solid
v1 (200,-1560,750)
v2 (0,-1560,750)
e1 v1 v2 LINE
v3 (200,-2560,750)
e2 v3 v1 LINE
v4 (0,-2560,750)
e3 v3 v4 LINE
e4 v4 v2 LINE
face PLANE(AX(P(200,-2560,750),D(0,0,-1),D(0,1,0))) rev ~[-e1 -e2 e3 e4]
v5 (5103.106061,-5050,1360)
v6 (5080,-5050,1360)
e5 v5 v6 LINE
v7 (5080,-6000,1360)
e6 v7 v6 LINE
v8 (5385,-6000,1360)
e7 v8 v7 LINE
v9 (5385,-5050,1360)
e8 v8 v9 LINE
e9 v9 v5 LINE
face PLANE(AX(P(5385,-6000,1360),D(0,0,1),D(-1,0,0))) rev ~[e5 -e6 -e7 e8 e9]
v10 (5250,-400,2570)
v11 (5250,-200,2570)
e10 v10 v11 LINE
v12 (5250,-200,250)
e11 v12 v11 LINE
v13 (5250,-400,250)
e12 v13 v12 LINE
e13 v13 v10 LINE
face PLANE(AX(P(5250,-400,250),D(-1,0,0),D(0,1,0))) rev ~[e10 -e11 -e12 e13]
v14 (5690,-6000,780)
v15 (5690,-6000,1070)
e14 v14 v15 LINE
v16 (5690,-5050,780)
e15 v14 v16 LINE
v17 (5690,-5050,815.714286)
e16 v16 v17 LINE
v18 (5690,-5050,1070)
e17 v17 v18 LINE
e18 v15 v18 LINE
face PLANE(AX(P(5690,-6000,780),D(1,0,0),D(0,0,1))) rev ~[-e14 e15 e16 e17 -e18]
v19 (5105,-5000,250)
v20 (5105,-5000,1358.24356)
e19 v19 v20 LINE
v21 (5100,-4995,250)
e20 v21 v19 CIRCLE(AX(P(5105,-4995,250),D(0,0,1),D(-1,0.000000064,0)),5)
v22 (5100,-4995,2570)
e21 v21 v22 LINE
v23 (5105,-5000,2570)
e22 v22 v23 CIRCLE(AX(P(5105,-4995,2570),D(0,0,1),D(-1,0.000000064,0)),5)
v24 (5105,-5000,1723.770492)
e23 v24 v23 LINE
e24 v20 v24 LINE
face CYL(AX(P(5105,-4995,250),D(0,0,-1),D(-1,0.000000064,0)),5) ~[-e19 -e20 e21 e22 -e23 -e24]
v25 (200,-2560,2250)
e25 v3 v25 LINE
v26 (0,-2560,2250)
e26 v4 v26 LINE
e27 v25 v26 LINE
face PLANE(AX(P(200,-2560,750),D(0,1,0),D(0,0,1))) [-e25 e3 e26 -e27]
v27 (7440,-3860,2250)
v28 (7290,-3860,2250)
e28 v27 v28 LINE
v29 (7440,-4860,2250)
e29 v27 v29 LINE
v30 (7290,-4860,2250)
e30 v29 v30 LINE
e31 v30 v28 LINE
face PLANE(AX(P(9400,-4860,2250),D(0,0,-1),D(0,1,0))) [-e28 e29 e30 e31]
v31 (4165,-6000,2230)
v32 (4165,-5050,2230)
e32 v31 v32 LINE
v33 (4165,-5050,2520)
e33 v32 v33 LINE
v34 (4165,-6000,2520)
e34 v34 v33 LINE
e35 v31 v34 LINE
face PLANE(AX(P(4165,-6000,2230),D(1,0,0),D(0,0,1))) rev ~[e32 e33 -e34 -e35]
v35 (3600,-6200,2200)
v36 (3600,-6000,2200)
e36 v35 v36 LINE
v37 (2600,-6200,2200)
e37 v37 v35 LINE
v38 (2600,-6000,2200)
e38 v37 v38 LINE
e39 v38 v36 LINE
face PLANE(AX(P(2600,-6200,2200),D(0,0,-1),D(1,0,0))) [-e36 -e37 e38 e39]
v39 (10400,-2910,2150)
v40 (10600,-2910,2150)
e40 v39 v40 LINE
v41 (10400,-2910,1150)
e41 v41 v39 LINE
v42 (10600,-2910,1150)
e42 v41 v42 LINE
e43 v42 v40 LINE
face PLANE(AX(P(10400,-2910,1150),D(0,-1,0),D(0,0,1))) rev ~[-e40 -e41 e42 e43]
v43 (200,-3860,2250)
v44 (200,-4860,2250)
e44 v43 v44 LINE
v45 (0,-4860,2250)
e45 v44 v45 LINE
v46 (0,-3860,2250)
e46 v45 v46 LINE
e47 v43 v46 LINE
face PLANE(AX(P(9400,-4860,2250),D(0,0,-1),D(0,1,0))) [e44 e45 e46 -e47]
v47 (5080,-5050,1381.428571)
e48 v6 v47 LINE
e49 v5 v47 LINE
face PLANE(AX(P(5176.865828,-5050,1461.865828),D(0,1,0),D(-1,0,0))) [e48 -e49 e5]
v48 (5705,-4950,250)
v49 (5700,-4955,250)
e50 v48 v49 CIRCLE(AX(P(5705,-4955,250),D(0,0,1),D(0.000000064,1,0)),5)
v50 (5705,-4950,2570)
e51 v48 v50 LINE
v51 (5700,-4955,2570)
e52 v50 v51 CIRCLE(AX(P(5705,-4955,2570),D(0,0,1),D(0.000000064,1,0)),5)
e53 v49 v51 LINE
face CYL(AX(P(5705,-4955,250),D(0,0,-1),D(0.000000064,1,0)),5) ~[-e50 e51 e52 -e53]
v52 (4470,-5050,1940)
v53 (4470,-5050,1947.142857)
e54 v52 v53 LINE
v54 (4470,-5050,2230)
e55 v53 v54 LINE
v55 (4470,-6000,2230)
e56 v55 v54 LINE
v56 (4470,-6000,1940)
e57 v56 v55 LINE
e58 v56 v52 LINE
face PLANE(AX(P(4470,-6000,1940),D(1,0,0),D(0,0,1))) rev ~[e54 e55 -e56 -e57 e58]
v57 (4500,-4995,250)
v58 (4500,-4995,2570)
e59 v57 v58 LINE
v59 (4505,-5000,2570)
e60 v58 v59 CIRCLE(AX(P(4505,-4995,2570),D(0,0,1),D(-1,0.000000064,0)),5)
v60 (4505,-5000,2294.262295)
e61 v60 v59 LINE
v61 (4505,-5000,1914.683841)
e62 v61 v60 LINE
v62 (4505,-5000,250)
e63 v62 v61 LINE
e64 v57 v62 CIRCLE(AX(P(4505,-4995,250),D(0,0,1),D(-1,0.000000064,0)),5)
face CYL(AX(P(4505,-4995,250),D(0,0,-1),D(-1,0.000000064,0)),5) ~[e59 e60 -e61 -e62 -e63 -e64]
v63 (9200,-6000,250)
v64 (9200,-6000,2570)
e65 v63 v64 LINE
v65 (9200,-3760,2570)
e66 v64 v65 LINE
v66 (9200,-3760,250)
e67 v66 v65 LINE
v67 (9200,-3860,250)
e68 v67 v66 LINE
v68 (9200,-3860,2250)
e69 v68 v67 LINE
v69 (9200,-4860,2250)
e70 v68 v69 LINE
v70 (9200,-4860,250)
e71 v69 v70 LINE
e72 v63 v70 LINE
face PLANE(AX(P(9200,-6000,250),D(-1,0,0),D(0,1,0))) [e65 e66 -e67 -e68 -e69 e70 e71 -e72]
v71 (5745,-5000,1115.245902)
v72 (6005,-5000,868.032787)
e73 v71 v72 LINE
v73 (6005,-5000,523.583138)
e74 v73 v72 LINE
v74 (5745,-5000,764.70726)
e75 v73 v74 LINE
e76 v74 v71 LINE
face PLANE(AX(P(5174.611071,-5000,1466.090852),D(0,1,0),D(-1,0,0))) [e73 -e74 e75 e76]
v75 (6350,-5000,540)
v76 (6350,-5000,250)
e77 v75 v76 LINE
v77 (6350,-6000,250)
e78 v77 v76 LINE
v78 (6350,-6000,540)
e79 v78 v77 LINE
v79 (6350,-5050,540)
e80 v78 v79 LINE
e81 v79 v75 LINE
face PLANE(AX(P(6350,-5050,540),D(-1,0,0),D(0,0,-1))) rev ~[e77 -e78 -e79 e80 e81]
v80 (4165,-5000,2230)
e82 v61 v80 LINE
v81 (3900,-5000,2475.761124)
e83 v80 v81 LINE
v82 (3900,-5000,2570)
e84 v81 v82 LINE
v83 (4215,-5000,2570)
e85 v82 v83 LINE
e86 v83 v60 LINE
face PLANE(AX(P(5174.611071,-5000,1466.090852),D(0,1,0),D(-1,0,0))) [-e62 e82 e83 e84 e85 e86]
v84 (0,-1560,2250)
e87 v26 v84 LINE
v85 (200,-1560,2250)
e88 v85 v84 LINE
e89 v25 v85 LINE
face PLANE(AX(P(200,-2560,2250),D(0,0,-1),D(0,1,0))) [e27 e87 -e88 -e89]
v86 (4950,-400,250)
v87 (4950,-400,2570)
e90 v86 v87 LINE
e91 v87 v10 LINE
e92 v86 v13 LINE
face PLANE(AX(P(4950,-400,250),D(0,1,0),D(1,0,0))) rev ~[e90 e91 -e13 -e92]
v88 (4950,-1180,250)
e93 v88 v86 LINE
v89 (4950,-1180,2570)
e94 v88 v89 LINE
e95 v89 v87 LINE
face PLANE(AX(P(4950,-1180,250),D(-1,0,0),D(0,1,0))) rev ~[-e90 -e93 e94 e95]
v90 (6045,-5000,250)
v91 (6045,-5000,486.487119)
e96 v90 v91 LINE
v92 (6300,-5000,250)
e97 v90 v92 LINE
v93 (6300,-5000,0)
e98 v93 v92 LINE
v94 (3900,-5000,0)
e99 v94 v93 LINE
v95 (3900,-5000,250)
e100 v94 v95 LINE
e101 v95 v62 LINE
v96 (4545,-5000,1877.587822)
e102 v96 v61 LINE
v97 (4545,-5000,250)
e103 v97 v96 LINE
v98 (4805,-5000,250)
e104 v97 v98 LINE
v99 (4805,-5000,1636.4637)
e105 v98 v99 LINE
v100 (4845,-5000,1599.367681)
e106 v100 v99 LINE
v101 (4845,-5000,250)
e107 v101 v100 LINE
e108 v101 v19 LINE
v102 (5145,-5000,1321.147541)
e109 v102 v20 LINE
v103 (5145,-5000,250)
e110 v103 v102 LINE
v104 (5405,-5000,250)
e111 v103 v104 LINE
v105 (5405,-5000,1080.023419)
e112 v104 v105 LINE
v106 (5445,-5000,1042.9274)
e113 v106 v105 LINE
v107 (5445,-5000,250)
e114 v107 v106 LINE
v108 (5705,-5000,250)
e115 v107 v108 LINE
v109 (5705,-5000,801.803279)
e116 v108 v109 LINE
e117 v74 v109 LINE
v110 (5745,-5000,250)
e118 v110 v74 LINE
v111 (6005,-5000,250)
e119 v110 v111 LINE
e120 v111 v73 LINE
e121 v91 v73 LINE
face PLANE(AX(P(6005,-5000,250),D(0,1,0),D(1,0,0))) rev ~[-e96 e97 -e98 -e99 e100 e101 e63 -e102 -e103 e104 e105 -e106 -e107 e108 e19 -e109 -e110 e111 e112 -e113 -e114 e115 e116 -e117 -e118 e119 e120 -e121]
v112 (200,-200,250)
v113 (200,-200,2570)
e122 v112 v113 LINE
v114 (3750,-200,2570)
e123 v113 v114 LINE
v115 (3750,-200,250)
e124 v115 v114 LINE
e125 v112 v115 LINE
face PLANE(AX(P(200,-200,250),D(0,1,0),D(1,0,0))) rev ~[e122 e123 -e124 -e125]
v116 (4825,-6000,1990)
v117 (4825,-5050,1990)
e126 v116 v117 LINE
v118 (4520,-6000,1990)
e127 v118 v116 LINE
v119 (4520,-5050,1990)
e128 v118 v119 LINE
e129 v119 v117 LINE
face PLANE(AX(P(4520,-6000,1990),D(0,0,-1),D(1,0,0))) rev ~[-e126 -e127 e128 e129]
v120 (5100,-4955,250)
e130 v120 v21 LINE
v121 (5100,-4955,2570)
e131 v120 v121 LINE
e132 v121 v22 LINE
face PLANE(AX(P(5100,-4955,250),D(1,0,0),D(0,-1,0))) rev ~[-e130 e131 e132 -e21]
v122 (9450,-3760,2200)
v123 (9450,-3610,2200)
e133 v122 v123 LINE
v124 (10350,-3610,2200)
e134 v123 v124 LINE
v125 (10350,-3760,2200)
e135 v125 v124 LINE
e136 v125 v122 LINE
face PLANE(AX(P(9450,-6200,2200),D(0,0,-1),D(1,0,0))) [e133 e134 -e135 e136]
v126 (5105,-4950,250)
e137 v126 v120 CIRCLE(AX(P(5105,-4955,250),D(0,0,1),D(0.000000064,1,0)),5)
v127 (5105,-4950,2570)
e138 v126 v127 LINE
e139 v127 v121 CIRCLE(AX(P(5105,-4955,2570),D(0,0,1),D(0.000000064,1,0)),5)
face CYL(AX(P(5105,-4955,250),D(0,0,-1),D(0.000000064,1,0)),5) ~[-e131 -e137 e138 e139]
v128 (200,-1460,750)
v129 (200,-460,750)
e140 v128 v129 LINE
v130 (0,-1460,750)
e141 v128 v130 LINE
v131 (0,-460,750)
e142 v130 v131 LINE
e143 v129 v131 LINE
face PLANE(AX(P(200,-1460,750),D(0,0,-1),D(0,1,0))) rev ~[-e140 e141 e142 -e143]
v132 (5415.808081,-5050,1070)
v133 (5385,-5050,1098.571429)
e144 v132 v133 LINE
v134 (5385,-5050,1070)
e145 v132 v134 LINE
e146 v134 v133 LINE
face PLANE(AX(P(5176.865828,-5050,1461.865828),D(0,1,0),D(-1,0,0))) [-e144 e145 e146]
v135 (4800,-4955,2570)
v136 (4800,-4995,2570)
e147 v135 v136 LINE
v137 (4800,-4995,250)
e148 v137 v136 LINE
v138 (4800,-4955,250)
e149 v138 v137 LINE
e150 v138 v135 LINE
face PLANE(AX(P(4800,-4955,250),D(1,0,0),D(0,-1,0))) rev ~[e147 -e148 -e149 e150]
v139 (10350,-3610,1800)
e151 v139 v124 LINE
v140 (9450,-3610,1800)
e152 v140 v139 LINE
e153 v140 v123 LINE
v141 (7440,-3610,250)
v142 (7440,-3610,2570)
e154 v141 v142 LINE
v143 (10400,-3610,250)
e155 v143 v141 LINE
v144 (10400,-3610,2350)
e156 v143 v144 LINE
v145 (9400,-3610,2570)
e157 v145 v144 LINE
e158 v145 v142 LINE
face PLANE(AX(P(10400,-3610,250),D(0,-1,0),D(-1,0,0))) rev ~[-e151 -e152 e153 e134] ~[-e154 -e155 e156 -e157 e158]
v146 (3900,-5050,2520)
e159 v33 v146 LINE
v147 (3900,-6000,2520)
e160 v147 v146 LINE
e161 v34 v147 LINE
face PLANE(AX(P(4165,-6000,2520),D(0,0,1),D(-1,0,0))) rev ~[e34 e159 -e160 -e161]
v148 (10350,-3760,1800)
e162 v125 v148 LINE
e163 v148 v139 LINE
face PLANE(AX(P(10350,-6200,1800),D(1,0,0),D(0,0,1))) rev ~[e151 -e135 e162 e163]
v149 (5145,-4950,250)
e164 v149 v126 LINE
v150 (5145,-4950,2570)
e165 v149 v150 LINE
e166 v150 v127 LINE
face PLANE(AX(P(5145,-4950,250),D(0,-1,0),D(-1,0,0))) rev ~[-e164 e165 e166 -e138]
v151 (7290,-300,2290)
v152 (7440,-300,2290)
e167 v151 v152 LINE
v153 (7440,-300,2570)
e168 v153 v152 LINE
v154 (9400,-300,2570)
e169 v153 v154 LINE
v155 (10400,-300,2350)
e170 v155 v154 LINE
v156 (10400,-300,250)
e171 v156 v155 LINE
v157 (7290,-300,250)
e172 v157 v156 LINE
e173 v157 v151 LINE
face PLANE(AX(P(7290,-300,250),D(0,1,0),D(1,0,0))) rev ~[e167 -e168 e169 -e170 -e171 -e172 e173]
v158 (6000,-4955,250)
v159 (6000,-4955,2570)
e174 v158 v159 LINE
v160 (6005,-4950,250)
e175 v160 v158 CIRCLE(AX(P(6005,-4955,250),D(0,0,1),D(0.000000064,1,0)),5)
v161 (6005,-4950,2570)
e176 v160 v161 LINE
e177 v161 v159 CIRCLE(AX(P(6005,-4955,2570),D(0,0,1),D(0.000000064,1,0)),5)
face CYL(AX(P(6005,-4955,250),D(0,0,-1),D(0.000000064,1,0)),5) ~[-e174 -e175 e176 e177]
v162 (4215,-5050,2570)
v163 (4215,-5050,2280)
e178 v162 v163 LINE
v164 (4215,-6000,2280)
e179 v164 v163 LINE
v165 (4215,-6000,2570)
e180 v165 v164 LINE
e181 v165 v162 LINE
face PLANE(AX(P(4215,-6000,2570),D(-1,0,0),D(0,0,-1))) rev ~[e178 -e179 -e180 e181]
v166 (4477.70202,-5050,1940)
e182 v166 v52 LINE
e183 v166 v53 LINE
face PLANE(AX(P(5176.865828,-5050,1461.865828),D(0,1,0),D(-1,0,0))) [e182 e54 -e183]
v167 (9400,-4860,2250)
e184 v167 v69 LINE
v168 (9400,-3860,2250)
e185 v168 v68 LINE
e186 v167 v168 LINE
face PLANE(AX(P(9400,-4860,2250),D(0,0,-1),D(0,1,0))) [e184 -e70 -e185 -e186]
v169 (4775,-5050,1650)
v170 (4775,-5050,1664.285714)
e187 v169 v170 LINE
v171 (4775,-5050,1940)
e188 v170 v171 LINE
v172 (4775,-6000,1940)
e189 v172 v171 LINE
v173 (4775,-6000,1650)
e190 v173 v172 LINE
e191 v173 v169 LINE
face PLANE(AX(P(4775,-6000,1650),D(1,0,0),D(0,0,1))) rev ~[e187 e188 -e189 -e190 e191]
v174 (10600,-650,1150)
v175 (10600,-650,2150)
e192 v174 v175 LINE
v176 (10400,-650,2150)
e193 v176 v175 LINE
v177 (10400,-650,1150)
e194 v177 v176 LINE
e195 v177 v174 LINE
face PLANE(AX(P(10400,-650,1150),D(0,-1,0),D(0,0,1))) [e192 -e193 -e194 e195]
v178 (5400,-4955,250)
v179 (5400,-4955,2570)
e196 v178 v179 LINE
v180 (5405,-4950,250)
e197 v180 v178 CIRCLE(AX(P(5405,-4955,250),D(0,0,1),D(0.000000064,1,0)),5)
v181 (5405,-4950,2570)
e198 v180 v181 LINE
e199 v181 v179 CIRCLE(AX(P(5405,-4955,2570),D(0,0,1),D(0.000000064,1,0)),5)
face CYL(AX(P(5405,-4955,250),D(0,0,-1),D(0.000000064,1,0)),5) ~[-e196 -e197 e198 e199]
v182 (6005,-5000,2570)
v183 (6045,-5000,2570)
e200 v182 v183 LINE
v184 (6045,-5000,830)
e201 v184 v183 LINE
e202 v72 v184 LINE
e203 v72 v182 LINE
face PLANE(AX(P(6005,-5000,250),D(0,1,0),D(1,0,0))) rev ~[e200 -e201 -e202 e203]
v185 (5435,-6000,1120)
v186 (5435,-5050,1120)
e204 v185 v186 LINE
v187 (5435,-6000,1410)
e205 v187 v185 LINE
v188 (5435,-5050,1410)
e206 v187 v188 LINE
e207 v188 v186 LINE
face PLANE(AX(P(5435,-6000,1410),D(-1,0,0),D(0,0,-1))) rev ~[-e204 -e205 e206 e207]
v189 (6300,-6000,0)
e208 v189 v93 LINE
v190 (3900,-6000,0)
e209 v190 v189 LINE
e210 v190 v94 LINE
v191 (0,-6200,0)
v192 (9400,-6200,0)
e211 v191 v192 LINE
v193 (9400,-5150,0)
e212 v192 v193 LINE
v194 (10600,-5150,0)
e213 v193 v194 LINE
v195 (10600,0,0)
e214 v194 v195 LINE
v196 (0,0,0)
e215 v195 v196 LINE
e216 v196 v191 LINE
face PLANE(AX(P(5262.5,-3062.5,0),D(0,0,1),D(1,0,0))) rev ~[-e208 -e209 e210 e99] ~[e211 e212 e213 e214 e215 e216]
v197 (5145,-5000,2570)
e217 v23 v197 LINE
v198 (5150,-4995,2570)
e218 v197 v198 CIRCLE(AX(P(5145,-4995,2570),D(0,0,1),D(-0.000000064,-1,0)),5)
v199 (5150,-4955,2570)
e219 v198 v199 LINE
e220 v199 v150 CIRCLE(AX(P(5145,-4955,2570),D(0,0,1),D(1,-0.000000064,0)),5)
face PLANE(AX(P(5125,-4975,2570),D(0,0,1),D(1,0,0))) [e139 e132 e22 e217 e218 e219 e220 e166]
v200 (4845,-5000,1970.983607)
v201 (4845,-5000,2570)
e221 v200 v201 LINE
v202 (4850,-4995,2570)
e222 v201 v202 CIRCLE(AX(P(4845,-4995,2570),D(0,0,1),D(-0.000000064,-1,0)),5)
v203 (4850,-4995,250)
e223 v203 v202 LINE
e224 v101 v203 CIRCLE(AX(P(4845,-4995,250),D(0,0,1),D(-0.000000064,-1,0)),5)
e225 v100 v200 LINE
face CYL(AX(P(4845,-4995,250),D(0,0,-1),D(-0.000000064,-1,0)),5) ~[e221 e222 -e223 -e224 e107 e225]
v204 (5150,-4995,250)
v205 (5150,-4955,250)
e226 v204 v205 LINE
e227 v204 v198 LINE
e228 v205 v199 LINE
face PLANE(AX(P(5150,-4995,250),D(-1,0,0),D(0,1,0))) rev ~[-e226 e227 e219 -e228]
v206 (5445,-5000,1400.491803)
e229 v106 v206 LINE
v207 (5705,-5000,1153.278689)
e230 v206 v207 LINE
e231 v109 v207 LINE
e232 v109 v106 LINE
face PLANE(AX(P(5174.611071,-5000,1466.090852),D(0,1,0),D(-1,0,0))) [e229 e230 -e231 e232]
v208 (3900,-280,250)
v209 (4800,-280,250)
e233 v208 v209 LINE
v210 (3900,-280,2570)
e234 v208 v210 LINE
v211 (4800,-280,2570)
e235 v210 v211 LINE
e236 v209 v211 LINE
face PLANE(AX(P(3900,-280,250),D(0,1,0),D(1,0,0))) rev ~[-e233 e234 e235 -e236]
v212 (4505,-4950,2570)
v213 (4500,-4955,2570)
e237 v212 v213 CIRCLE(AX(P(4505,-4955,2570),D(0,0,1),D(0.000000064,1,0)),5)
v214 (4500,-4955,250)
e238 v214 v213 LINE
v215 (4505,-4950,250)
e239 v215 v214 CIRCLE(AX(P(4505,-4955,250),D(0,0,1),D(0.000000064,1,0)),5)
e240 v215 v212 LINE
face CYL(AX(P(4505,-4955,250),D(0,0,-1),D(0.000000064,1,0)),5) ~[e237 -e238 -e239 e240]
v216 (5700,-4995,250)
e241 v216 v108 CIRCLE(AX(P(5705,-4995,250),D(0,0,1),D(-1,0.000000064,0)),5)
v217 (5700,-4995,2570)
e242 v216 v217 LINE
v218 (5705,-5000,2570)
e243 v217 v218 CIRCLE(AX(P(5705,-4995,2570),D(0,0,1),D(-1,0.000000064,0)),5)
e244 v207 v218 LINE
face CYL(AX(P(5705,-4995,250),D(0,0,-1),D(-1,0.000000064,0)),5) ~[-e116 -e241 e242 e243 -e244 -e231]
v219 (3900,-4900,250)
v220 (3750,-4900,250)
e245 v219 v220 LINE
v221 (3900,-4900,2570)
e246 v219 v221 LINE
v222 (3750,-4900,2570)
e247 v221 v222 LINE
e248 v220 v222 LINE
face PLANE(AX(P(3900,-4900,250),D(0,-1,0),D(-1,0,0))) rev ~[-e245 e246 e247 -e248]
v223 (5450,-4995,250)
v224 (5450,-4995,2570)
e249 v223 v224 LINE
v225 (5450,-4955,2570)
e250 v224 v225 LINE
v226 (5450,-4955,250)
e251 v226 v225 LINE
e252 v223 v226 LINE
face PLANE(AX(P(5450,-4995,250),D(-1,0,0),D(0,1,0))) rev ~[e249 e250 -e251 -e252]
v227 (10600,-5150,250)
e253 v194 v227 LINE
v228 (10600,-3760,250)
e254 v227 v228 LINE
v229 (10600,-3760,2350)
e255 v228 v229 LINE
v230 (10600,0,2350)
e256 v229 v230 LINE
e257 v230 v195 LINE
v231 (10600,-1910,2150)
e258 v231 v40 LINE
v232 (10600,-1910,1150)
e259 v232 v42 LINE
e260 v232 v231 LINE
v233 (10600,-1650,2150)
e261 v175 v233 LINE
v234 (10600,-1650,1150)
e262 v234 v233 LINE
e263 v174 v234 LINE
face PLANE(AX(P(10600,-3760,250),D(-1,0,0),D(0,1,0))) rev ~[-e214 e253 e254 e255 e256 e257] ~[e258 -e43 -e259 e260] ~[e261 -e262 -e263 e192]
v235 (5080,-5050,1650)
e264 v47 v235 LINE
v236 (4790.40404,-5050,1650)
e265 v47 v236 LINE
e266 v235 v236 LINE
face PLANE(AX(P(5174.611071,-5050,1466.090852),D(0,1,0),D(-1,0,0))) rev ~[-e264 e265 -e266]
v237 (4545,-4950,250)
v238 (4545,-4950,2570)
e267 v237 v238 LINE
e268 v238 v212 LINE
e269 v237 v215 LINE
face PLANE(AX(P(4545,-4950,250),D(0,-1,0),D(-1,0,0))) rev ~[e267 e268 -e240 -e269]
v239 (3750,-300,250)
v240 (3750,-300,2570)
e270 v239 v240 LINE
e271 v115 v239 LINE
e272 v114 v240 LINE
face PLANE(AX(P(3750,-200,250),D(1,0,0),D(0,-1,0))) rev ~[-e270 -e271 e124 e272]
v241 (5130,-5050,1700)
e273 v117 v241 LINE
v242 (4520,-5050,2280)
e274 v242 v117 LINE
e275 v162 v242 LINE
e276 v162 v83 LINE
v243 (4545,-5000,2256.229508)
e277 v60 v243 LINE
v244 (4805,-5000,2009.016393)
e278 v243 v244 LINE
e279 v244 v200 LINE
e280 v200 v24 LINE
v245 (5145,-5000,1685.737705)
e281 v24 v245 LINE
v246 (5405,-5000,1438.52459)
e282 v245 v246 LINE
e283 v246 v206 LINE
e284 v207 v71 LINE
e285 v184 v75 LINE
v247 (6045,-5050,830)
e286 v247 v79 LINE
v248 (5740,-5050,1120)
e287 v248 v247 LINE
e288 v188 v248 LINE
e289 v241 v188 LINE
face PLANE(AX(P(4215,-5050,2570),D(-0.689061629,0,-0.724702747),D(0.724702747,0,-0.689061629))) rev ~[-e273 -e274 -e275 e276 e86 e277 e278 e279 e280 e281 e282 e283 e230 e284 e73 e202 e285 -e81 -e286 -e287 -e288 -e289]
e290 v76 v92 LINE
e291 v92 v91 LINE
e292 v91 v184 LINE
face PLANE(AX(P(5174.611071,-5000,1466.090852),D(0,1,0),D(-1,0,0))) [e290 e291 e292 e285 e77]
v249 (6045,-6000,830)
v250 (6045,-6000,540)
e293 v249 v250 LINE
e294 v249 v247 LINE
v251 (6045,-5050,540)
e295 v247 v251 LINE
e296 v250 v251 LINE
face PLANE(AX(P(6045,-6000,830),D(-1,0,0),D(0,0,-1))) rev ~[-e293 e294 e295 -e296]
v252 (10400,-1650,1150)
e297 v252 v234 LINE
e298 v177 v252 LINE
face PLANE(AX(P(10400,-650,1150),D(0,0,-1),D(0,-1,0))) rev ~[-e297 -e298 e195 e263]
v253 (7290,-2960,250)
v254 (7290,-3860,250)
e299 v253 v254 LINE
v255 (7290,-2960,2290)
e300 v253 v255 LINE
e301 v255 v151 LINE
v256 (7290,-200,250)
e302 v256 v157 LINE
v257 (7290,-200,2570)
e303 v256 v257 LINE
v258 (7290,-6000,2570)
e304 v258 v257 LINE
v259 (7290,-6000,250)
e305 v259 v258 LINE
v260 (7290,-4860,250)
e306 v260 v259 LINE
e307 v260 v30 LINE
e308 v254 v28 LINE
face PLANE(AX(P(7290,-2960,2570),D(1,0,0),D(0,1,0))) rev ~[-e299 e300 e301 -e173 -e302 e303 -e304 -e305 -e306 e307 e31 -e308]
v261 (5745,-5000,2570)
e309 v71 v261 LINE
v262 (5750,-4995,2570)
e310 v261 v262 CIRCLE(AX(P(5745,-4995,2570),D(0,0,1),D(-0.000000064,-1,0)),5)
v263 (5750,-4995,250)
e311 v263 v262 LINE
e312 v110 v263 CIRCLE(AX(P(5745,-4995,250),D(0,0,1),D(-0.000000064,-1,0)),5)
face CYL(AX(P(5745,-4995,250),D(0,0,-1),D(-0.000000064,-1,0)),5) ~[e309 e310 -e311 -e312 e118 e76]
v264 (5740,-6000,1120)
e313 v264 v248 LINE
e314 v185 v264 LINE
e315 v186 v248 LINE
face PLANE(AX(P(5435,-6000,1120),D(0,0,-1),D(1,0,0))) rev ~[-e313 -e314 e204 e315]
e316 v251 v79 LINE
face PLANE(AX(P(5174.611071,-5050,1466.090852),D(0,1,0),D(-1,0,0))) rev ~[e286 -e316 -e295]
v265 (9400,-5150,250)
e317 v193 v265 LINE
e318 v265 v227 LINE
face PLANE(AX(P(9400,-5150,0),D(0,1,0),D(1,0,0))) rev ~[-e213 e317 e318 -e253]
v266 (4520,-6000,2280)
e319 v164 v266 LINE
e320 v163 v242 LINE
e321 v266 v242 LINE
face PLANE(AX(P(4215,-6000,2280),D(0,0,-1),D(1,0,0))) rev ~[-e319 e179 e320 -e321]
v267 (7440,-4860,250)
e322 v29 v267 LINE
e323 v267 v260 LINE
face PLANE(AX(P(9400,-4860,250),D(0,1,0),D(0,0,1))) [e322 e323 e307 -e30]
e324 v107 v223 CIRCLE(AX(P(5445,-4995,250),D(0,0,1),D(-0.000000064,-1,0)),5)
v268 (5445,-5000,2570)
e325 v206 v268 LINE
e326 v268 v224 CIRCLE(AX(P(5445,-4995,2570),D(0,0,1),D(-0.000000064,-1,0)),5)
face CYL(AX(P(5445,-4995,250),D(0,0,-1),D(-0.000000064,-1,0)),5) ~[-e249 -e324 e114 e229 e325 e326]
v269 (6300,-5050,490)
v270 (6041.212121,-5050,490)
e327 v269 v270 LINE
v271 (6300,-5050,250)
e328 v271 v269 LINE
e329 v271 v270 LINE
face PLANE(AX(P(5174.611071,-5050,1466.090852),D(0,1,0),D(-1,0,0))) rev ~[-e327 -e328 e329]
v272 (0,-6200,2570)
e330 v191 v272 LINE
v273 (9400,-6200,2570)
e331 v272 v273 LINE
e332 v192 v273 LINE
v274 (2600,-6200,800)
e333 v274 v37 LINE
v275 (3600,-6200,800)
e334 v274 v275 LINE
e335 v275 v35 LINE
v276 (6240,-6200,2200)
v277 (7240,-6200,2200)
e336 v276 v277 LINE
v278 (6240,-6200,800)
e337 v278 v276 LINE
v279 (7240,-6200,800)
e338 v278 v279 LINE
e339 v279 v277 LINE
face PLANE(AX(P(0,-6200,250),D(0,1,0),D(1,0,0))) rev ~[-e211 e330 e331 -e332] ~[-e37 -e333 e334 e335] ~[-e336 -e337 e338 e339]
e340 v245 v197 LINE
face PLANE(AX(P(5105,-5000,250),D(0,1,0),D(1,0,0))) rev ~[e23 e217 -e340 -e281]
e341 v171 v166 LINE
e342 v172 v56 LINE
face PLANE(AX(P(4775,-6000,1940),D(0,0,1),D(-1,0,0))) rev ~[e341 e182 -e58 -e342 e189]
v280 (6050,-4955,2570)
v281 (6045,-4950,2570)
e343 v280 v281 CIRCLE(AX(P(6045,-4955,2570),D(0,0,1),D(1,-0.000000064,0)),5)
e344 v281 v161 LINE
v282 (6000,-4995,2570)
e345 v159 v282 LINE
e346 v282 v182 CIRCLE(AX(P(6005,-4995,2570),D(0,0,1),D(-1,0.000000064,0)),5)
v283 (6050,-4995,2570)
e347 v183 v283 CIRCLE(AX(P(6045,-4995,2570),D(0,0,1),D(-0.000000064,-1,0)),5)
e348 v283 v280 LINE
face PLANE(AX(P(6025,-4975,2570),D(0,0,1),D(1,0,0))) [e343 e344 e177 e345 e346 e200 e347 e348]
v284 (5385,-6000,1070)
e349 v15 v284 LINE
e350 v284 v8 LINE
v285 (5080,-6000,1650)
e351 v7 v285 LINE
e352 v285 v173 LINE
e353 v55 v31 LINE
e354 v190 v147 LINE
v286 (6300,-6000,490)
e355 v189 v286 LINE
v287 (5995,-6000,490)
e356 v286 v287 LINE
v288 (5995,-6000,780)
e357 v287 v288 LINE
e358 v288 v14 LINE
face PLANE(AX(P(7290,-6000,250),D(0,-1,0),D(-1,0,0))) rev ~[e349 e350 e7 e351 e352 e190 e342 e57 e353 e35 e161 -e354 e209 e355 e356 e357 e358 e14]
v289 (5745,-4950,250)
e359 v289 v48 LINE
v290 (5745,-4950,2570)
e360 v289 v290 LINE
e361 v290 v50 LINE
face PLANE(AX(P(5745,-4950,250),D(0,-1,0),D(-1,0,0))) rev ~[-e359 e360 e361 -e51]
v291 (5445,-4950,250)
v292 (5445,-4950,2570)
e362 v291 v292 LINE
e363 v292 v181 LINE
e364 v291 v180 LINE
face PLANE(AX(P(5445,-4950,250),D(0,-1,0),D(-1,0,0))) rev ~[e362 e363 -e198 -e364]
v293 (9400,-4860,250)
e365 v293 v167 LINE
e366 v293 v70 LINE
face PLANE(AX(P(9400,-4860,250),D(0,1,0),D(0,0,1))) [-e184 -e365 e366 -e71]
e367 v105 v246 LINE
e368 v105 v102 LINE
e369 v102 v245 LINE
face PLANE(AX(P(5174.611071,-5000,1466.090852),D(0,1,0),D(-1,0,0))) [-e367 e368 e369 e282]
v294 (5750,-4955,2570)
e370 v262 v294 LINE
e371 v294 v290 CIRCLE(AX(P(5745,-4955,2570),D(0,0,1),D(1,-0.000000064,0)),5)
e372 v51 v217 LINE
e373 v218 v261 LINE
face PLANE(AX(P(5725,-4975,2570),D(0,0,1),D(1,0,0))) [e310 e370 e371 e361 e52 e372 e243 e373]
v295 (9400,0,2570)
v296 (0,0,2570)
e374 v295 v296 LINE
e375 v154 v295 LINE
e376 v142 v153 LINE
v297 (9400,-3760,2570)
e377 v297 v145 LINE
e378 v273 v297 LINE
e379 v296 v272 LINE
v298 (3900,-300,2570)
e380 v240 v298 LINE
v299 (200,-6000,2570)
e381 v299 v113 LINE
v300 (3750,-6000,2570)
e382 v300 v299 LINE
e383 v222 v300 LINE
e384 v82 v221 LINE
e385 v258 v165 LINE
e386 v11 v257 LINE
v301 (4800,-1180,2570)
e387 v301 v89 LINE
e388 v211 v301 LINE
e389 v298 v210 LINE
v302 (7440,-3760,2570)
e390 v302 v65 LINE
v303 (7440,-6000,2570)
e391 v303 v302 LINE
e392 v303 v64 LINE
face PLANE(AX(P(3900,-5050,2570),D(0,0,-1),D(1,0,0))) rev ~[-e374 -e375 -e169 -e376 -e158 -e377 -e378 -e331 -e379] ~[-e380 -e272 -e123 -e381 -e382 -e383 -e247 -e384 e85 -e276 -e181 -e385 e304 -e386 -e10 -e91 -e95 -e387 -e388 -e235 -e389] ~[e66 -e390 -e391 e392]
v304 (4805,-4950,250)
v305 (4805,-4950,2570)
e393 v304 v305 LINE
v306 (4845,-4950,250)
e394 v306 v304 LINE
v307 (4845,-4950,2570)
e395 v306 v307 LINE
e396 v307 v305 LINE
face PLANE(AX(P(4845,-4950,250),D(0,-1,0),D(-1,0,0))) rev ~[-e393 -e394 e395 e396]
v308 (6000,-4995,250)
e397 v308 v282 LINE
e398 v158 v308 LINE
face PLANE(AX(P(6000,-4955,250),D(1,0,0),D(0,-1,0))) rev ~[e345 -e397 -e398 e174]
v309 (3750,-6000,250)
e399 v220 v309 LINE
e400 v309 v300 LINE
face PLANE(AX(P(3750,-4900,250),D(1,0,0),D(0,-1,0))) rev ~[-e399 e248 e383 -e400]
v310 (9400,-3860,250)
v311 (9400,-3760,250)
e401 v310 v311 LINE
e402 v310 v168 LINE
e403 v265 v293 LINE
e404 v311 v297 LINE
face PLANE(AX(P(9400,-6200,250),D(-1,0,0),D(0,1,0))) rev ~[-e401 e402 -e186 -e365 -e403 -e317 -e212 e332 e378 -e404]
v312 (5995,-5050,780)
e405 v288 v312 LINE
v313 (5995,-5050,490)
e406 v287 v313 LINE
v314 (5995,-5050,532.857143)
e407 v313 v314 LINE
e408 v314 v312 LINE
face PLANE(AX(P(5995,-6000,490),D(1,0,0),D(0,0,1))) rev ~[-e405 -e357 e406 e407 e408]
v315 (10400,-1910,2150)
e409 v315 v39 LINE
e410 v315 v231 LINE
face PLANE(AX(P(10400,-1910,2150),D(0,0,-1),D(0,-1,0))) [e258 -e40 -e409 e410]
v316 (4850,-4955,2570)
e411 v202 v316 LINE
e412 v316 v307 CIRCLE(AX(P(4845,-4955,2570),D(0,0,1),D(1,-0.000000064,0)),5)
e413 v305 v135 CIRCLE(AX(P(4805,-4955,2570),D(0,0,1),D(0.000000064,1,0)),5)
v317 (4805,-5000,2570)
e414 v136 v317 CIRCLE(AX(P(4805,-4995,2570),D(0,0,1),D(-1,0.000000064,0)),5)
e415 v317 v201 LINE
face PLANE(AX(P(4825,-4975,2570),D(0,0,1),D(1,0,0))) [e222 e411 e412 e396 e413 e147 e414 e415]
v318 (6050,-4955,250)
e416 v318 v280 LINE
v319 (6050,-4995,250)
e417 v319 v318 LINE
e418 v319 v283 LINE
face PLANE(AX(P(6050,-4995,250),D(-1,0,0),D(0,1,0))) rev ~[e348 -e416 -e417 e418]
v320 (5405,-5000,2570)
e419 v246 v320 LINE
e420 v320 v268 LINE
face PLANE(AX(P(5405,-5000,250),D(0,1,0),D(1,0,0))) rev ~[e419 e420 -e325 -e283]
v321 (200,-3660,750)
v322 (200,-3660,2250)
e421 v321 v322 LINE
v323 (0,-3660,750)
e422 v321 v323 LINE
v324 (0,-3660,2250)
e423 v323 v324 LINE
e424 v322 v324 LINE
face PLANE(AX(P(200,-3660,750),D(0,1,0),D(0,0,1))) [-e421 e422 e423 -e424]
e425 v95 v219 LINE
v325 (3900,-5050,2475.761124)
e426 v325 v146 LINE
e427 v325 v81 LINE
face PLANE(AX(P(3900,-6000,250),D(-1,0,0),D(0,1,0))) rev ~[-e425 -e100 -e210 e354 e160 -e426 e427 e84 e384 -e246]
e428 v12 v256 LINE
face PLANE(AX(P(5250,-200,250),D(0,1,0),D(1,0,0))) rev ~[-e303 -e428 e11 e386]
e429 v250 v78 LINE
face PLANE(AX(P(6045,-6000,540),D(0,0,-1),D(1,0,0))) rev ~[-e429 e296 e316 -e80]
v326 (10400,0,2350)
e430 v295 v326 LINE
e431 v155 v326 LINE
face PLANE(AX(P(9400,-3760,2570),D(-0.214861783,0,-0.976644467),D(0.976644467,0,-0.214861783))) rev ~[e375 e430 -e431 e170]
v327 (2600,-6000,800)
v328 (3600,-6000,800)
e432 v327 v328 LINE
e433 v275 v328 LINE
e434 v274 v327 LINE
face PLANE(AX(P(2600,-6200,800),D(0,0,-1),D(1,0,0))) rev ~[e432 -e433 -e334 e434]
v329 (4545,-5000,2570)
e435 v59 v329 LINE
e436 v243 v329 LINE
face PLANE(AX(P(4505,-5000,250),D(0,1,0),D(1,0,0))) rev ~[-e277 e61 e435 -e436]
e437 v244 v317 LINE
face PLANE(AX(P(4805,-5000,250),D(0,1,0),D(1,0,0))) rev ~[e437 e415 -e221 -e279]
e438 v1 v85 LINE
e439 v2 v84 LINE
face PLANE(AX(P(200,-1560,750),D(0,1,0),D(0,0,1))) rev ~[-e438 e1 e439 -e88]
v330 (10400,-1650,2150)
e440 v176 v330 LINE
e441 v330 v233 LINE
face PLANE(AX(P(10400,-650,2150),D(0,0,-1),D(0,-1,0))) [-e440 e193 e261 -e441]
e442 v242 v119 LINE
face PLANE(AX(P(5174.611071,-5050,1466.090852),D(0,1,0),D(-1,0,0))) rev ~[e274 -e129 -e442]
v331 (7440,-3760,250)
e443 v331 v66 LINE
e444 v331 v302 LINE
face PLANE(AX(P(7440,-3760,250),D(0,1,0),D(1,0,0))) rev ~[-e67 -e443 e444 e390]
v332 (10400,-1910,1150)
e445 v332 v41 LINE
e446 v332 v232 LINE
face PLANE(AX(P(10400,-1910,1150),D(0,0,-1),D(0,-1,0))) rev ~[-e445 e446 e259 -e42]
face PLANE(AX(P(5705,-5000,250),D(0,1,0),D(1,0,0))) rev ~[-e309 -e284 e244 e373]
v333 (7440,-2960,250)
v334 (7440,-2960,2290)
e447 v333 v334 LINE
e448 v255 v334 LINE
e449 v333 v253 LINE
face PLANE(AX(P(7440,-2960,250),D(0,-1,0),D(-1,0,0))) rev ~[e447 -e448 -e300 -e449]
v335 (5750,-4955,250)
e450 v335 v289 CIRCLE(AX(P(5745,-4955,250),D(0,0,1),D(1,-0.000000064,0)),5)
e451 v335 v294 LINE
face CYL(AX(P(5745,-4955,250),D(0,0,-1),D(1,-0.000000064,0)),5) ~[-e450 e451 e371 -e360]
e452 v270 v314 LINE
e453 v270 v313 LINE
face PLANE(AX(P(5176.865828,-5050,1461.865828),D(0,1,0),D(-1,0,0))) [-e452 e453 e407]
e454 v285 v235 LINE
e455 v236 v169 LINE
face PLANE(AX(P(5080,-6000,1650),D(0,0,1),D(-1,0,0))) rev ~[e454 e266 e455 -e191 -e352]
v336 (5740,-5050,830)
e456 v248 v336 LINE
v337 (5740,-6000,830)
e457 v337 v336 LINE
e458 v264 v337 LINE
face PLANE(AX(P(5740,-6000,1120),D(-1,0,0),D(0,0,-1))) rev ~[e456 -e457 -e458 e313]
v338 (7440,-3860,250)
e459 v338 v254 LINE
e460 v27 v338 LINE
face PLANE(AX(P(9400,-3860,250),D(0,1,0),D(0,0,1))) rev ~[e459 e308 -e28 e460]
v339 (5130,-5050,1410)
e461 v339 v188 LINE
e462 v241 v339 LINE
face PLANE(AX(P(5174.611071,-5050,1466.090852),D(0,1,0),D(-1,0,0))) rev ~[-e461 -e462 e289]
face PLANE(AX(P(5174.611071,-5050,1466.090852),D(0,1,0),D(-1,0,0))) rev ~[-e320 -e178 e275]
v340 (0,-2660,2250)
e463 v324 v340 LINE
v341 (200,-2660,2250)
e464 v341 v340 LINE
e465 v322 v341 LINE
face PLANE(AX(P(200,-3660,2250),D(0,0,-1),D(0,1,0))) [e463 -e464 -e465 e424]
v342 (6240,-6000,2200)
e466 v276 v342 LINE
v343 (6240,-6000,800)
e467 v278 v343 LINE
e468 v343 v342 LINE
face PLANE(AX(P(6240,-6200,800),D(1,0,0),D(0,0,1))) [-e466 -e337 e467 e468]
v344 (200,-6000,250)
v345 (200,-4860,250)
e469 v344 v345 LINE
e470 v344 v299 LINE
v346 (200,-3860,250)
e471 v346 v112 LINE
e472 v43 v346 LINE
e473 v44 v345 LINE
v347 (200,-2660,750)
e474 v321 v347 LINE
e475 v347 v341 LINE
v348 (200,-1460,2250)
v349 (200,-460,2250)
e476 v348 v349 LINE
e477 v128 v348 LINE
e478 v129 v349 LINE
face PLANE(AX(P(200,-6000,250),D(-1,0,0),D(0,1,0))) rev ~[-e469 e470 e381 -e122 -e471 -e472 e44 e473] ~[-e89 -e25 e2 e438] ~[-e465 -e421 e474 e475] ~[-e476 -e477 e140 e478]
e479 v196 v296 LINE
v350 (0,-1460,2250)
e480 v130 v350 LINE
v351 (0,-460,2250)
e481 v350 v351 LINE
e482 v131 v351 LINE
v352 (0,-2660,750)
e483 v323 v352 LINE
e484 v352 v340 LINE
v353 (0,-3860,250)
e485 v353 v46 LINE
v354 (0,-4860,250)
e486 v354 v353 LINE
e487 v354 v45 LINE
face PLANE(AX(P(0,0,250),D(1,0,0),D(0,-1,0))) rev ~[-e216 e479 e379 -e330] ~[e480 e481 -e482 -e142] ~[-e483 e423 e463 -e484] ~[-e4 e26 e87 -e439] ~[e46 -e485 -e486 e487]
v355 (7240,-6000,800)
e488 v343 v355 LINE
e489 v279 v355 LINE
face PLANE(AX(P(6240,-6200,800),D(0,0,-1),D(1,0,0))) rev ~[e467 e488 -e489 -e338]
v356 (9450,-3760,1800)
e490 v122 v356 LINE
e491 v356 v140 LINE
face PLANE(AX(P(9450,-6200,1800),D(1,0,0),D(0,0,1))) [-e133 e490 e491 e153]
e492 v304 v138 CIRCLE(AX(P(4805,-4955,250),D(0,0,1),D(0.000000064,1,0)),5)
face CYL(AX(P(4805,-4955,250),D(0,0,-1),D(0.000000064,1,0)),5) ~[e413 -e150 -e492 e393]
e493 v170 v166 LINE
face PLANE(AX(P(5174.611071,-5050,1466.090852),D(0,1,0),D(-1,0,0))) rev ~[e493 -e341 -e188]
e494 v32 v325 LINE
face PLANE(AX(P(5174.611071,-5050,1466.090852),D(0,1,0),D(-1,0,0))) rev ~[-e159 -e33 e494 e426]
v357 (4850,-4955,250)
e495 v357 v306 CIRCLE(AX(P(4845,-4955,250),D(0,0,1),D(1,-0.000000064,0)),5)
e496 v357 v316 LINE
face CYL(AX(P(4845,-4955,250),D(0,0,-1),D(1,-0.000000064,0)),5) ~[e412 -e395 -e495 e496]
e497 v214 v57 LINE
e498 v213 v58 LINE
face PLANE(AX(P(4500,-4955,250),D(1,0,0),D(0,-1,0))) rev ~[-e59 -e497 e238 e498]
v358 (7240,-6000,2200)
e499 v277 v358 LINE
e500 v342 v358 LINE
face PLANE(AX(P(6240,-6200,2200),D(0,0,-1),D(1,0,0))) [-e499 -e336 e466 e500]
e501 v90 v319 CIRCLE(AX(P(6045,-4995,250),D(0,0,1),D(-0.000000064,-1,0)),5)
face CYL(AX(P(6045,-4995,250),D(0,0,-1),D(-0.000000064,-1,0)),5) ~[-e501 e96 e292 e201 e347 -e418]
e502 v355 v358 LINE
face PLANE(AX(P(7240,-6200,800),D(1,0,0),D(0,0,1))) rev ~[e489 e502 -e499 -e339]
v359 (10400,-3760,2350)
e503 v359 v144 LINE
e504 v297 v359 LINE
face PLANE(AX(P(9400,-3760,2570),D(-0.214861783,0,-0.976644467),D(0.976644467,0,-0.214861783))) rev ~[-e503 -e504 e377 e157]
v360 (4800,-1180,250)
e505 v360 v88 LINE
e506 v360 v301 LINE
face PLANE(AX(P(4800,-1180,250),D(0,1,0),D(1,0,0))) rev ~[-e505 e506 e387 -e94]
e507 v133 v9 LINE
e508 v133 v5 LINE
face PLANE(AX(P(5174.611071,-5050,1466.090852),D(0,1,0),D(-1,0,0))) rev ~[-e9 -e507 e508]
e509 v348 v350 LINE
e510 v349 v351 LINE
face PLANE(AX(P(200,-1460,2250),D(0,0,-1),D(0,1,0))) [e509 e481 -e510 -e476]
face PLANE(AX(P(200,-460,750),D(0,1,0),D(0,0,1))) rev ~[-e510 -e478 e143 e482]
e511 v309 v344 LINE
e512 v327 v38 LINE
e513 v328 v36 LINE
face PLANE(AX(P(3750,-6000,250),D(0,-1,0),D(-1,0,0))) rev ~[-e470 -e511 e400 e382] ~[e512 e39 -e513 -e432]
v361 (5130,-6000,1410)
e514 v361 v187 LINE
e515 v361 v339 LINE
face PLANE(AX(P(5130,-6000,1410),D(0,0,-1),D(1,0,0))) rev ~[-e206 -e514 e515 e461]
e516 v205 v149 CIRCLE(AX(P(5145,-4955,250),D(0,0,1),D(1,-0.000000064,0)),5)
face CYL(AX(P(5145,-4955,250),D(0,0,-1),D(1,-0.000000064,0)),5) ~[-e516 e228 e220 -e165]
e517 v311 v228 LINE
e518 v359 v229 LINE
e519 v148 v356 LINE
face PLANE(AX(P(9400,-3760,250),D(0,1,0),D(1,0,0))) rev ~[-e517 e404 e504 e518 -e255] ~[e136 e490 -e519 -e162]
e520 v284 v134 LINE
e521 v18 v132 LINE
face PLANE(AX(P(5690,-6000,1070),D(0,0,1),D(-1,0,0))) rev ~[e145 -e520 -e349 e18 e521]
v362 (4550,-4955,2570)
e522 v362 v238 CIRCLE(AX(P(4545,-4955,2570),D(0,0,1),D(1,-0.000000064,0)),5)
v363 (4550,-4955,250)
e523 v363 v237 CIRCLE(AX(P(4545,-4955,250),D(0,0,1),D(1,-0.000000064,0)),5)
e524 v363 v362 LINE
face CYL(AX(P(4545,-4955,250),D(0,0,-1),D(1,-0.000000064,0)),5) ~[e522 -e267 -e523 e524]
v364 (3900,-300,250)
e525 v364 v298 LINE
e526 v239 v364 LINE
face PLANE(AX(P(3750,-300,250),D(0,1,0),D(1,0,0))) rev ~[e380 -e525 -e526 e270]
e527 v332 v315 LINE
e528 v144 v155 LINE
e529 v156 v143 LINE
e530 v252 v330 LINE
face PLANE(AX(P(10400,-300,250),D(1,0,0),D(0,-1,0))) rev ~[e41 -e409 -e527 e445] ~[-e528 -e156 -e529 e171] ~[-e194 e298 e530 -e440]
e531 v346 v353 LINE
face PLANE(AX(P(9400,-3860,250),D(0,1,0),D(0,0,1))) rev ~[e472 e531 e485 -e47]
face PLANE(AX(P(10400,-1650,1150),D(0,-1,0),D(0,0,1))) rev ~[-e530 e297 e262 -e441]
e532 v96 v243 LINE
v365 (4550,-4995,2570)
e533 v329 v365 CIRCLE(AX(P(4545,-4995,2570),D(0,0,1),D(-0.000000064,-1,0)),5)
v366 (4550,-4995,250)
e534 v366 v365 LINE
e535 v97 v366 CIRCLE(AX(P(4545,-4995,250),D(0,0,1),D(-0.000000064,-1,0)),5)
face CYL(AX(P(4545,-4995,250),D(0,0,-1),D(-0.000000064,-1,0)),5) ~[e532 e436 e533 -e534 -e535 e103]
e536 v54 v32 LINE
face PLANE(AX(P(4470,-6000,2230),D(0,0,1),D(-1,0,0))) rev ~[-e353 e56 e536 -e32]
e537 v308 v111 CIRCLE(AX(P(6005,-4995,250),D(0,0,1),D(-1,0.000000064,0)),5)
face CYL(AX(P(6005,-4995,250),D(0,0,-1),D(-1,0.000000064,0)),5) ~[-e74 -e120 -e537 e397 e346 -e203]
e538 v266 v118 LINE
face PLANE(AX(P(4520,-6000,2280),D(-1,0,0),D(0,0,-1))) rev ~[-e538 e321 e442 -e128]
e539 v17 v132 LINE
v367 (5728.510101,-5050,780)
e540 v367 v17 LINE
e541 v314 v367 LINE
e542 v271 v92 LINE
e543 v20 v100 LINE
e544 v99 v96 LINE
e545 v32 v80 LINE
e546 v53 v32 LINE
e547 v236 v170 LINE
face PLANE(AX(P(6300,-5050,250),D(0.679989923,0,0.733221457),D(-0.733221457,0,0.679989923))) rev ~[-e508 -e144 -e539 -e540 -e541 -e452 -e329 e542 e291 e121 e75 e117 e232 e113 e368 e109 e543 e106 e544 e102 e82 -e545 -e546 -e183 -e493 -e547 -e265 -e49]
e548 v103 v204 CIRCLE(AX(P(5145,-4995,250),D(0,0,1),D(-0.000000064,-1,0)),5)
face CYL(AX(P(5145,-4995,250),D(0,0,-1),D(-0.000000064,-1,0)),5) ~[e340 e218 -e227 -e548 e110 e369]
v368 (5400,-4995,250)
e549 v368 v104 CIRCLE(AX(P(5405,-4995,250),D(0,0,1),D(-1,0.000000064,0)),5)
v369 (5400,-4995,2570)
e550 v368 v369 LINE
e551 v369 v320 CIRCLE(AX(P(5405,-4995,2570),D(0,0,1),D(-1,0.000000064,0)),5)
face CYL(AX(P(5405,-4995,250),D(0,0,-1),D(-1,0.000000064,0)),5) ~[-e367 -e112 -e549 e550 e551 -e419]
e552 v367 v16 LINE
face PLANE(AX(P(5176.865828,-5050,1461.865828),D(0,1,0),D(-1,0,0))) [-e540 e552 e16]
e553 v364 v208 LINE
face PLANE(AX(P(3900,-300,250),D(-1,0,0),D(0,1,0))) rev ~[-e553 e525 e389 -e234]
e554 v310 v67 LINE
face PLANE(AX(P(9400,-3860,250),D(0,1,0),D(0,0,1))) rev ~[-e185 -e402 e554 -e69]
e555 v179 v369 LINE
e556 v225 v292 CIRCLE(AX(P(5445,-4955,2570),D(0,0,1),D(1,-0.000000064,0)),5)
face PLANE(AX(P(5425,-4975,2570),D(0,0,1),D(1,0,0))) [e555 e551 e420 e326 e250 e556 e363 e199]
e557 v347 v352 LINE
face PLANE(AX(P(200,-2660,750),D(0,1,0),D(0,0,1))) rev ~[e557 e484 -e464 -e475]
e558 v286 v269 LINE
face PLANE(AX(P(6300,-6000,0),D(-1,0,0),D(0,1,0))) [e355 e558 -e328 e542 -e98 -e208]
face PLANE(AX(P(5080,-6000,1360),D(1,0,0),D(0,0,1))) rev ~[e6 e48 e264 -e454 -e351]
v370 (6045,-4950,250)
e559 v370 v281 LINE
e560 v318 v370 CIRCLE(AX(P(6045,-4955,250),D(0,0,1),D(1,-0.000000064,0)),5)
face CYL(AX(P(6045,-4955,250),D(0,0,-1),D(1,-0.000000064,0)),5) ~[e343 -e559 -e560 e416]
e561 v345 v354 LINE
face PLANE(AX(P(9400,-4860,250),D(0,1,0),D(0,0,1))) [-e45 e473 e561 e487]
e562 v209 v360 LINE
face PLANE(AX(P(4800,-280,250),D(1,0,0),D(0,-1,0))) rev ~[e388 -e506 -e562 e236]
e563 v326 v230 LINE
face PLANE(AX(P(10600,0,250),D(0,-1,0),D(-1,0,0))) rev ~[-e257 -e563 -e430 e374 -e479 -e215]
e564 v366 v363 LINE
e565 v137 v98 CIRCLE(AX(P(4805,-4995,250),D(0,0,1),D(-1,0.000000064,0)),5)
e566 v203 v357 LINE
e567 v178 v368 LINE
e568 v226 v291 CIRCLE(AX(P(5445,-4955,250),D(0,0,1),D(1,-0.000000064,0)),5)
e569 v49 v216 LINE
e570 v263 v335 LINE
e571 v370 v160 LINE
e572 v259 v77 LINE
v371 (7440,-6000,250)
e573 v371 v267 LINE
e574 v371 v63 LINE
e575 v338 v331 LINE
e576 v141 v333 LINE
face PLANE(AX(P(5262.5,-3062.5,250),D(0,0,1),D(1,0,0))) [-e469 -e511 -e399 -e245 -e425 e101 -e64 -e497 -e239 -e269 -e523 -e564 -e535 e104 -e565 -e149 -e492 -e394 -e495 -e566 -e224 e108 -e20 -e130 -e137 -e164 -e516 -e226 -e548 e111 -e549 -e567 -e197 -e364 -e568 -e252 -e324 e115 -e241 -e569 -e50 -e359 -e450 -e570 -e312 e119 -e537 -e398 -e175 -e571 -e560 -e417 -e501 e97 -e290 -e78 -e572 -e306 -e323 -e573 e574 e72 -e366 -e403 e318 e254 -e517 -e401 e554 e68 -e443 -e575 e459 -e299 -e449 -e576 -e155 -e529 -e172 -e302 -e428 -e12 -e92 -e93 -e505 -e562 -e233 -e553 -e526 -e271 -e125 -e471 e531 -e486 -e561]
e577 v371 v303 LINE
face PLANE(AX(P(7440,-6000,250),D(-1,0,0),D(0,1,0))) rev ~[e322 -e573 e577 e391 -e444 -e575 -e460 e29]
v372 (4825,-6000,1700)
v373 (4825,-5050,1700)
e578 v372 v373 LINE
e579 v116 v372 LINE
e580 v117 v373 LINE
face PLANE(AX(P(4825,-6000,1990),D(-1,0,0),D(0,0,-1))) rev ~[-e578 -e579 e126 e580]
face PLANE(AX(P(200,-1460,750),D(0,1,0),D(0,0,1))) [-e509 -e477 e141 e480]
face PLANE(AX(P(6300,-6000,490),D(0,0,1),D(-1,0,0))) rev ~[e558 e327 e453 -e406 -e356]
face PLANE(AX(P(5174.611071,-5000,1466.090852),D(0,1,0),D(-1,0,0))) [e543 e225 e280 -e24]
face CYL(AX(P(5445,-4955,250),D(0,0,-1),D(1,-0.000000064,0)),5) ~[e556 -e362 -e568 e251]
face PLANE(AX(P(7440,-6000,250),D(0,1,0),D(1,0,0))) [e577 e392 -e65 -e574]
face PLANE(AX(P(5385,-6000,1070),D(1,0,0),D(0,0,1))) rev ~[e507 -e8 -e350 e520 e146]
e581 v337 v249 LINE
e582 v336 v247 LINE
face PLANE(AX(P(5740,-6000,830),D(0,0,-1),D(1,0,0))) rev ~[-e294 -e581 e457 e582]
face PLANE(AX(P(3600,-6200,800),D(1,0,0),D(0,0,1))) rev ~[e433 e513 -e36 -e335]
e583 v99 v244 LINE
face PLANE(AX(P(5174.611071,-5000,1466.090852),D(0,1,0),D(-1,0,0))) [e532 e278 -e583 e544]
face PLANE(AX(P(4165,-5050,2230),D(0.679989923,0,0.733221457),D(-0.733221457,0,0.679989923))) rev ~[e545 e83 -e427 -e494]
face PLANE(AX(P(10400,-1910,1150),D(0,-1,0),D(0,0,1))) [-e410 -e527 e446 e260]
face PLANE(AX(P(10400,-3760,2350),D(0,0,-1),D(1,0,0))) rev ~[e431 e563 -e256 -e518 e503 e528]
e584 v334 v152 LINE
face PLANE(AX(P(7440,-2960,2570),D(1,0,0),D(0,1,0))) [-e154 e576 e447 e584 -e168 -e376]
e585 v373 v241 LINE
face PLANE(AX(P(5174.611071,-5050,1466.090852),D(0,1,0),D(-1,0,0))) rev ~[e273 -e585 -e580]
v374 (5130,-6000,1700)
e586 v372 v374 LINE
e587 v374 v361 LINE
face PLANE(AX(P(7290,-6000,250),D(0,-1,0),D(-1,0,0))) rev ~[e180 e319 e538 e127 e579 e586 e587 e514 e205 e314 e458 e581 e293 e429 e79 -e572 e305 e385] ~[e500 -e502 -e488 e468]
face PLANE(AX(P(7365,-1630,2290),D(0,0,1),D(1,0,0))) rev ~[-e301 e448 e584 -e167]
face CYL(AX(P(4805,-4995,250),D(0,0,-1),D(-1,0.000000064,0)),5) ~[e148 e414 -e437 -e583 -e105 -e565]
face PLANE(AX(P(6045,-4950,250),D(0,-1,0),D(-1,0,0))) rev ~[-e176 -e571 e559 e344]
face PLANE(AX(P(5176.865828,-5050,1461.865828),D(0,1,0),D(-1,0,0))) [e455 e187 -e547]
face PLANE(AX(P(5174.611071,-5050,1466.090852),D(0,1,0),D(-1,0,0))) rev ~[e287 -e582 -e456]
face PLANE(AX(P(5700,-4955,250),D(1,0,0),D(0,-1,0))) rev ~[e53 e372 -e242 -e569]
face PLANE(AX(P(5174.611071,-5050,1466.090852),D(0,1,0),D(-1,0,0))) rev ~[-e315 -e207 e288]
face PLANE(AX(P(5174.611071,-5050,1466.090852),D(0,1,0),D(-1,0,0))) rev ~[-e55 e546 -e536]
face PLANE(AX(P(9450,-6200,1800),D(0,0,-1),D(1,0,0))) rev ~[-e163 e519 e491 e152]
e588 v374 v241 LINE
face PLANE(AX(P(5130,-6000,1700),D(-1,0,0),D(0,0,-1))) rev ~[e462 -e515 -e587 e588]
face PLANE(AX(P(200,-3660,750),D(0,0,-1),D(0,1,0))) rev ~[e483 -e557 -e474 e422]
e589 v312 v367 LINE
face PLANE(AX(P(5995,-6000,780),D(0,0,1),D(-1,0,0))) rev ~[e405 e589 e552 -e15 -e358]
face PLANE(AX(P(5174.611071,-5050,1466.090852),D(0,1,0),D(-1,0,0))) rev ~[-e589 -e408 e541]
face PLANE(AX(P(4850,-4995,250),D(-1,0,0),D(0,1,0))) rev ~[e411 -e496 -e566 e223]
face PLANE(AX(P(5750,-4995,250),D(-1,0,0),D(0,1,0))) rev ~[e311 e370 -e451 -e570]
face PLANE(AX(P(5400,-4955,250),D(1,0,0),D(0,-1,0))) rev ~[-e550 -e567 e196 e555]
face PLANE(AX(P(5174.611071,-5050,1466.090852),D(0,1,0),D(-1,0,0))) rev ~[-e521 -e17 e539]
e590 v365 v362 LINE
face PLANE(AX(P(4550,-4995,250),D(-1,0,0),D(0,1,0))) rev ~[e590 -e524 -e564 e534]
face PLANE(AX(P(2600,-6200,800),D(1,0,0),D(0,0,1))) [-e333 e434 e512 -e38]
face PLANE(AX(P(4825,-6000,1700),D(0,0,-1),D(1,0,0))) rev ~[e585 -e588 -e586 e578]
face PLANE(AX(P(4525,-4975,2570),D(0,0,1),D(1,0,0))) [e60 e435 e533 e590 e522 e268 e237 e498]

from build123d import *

# Parameters (mm, degrees)
F0_W      = 2400
F0_H      = 1000
F1_DEPTH  = 250
F2_W      = 1760
F2_H      = 2240
F3_DEPTH  = 2320
F4_W      = 1000
F4_H      = 2000
F5_DEPTH  = 9400.001
F6_W      = 1000
F6_H      = 1400
F6_W_2    = 900
F6_H_2    = 400
F7_DEPTH  = 5900
F8_W      = 1000
F8_H      = 1000
F9_DEPTH  = 200
F10_W     = 1000
F10_H     = 1500
F11_DEPTH = 200
F12_W     = 150
F12_H     = 2660
F13_DEPTH = 280
F15_DEPTH = 950
F17_DEPTH = 50
F19_DEPTH = 2320
F21_DEPTH = 3760.001


with BuildPart() as f1:
    # F0 (on Top) → F1 (new body)
    with BuildSketch(Plane.XY):
        Polygon((10600, 0), (0, 0), (0, -6200), (9400, -6200), (9400, -5150), (10600, -5150), align=None)
        with Locations((5100, -5500)):
            Rectangle(F0_W, F0_H, mode=Mode.SUBTRACT)
    extrude(amount=F1_DEPTH)

    # F2 (on face) → F3 (join)
    with BuildSketch(Plane.XY.offset(250)):
        Polygon((10600, 0), (0, 0), (0, -6200), (9400, -6200), (9400, -3760), (10600, -3760), align=None)
        with Locations((8320, -4880)):
            Rectangle(F2_W, F2_H, mode=Mode.SUBTRACT)
        Polygon((200, -6000), (200, -200), (3750, -200), (3750, -300), (3900, -300), (3900, -280), (4800, -280), (4800, -1180), (4950, -1180), (4950, -400), (5250, -400), (5250, -200), (7290, -200), (7290, -300), (7440, -300), (10400, -300), (10400, -3610), (7440, -3610), (7440, -2960), (7290, -2960), (7290, -6000), (3900, -6000), (3900, -4900), (3750, -4900), (3750, -6000), align=None, mode=Mode.SUBTRACT)
    extrude(amount=F3_DEPTH)

    # F4 (on face) → F5 (cut, through all)
    with BuildSketch(Plane.YZ.offset(9400)):
        with Locations((-4360, 1250)):
            Rectangle(F4_W, F4_H)
    extrude(amount=-F5_DEPTH, mode=Mode.SUBTRACT)

    # F6 (on face) → F7 (cut, through all)
    with BuildSketch(Plane.XZ.offset(6200)):
        with Locations((6740, 1500)):
            Rectangle(F6_W, F6_H)
        with Locations((3100, 1500)):
            Rectangle(F6_W, F6_H)
        with Locations((9900, 2000)):
            Rectangle(F6_W_2, F6_H_2)
    extrude(amount=-F7_DEPTH, mode=Mode.SUBTRACT)

    # F8 (on face) → F9 (cut, through all)
    with BuildSketch(Plane(origin=(10400, 0, 0), x_dir=(0, -1, 0), z_dir=(-1, 0, 0))):
        with Locations((1150, 1650)):
            Rectangle(F8_W, F8_H)
        with Locations((2410, 1650)):
            Rectangle(F8_W, F8_H)
    extrude(amount=-F9_DEPTH, mode=Mode.SUBTRACT)

    # F10 (on face) → F11 (cut, through all)
    with BuildSketch(Plane.YZ.offset(200)):
        with Locations((-3160, 1500)):
            Rectangle(F10_W, F10_H)
        with Locations((-2060, 1500)):
            Rectangle(F10_W, F10_H)
        with Locations((-960, 1500)):
            Rectangle(F10_W, F10_H)
    extrude(amount=-F11_DEPTH, mode=Mode.SUBTRACT)

    # F12 (on face) → F13 (join)
    with BuildSketch(Plane.XY.offset(2570)):
        with Locations((7365, -1630)):
            Rectangle(F12_W, F12_H)
    extrude(amount=-F13_DEPTH)

    # F14 (on face) → F15 (join)
    with BuildSketch(Plane(origin=(0, -6000, 0), x_dir=(-1, 0, 0), z_dir=(0, 1, 0))):
        Polygon((-6350, 540), (-6350, 250), (-6300, 250), (-6300, 490), (-5995, 490), (-5995, 780), (-5690, 780), (-5690, 1070), (-5385, 1070), (-5385, 1360), (-5080, 1360), (-5080, 1650), (-4775, 1650), (-4775, 1940), (-4470, 1940), (-4470, 2230), (-4165, 2230), (-4165, 2520), (-3900, 2520), (-3900, 2570), (-4215, 2570), (-4215, 2280), (-4520, 2280), (-4520, 1990), (-4825, 1990), (-4825, 1700), (-5130, 1700), (-5130, 1410), (-5435, 1410), (-5435, 1120), (-5740, 1120), (-5740, 830), (-6045, 830), (-6045, 540), align=None)
    extrude(amount=F15_DEPTH)

    # F16 (on face) → F17 (join)
    with BuildSketch(Plane(origin=(0, -5050, 0), x_dir=(-1, 0, 0), z_dir=(0, 1, 0))):
        Polygon((-4215, 2570), (-6350, 540), (-6350, 250), (-6300, 250), (-4165, 2230), (-3900, 2475.761124), (-3900, 2570), align=None)
    extrude(amount=F17_DEPTH)

    # F18 (on face) → F19 (join)
    with BuildSketch(Plane.XY.offset(250)):
        with BuildLine():
            Line((6005, -5000), (6045, -5000))
            ThreePointArc((6045, -5000), (6048.535534, -4998.535534), (6050, -4995))
            Line((6050, -4995), (6050, -4955))
            ThreePointArc((6050, -4955), (6048.535534, -4951.464466), (6045, -4950))
            Line((6045, -4950), (6005, -4950))
            ThreePointArc((6005, -4950), (6001.464466, -4951.464466), (6000, -4955))
            Line((6000, -4955), (6000, -4995))
            ThreePointArc((6000, -4995), (6001.464466, -4998.535534), (6005, -5000))
        make_face()
        with BuildLine():
            Line((5705, -5000), (5745, -5000))
            ThreePointArc((5745, -5000), (5748.535534, -4998.535534), (5750, -4995))
            Line((5750, -4995), (5750, -4955))
            ThreePointArc((5750, -4955), (5748.535534, -4951.464466), (5745, -4950))
            Line((5745, -4950), (5705, -4950))
            ThreePointArc((5705, -4950), (5701.464466, -4951.464466), (5700, -4955))
            Line((5700, -4955), (5700, -4995))
            ThreePointArc((5700, -4995), (5701.464466, -4998.535534), (5705, -5000))
        make_face()
        with BuildLine():
            Line((5405, -5000), (5445, -5000))
            ThreePointArc((5445, -5000), (5448.535534, -4998.535534), (5450, -4995))
            Line((5450, -4995), (5450, -4955))
            ThreePointArc((5450, -4955), (5448.535534, -4951.464466), (5445, -4950))
            Line((5445, -4950), (5405, -4950))
            ThreePointArc((5405, -4950), (5401.464466, -4951.464466), (5400, -4955))
            Line((5400, -4955), (5400, -4995))
            ThreePointArc((5400, -4995), (5401.464466, -4998.535534), (5405, -5000))
        make_face()
        with BuildLine():
            Line((5105, -5000), (5145, -5000))
            ThreePointArc((5145, -5000), (5148.535534, -4998.535534), (5150, -4995))
            Line((5150, -4995), (5150, -4955))
            ThreePointArc((5150, -4955), (5148.535534, -4951.464466), (5145, -4950))
            Line((5145, -4950), (5105, -4950))
            ThreePointArc((5105, -4950), (5101.464466, -4951.464466), (5100, -4955))
            Line((5100, -4955), (5100, -4995))
            ThreePointArc((5100, -4995), (5101.464466, -4998.535534), (5105, -5000))
        make_face()
        with BuildLine():
            Line((4805, -5000), (4845, -5000))
            ThreePointArc((4845, -5000), (4848.535534, -4998.535534), (4850, -4995))
            Line((4850, -4995), (4850, -4955))
            ThreePointArc((4850, -4955), (4848.535534, -4951.464466), (4845, -4950))
            Line((4845, -4950), (4805, -4950))
            ThreePointArc((4805, -4950), (4801.464466, -4951.464466), (4800, -4955))
            Line((4800, -4955), (4800, -4995))
            ThreePointArc((4800, -4995), (4801.464466, -4998.535534), (4805, -5000))
        make_face()
        with BuildLine():
            Line((4505, -5000), (4545, -5000))
            ThreePointArc((4545, -5000), (4548.535534, -4998.535534), (4550, -4995))
            Line((4550, -4995), (4550, -4955))
            ThreePointArc((4550, -4955), (4548.535534, -4951.464466), (4545, -4950))
            Line((4545, -4950), (4505, -4950))
            ThreePointArc((4505, -4950), (4501.464466, -4951.464466), (4500, -4955))
            Line((4500, -4955), (4500, -4995))
            ThreePointArc((4500, -4995), (4501.464466, -4998.535534), (4505, -5000))
        make_face()
    extrude(amount=F19_DEPTH)

    # F20 (on face) → F21 (cut, through all)
    with BuildSketch(Plane.XZ.offset(3760)):
        Polygon((10600, 2570), (9400, 2570), (10400, 2350), (10600, 2350), align=None)
    extrude(amount=-F21_DEPTH, mode=Mode.SUBTRACT)


solid = f1.part
